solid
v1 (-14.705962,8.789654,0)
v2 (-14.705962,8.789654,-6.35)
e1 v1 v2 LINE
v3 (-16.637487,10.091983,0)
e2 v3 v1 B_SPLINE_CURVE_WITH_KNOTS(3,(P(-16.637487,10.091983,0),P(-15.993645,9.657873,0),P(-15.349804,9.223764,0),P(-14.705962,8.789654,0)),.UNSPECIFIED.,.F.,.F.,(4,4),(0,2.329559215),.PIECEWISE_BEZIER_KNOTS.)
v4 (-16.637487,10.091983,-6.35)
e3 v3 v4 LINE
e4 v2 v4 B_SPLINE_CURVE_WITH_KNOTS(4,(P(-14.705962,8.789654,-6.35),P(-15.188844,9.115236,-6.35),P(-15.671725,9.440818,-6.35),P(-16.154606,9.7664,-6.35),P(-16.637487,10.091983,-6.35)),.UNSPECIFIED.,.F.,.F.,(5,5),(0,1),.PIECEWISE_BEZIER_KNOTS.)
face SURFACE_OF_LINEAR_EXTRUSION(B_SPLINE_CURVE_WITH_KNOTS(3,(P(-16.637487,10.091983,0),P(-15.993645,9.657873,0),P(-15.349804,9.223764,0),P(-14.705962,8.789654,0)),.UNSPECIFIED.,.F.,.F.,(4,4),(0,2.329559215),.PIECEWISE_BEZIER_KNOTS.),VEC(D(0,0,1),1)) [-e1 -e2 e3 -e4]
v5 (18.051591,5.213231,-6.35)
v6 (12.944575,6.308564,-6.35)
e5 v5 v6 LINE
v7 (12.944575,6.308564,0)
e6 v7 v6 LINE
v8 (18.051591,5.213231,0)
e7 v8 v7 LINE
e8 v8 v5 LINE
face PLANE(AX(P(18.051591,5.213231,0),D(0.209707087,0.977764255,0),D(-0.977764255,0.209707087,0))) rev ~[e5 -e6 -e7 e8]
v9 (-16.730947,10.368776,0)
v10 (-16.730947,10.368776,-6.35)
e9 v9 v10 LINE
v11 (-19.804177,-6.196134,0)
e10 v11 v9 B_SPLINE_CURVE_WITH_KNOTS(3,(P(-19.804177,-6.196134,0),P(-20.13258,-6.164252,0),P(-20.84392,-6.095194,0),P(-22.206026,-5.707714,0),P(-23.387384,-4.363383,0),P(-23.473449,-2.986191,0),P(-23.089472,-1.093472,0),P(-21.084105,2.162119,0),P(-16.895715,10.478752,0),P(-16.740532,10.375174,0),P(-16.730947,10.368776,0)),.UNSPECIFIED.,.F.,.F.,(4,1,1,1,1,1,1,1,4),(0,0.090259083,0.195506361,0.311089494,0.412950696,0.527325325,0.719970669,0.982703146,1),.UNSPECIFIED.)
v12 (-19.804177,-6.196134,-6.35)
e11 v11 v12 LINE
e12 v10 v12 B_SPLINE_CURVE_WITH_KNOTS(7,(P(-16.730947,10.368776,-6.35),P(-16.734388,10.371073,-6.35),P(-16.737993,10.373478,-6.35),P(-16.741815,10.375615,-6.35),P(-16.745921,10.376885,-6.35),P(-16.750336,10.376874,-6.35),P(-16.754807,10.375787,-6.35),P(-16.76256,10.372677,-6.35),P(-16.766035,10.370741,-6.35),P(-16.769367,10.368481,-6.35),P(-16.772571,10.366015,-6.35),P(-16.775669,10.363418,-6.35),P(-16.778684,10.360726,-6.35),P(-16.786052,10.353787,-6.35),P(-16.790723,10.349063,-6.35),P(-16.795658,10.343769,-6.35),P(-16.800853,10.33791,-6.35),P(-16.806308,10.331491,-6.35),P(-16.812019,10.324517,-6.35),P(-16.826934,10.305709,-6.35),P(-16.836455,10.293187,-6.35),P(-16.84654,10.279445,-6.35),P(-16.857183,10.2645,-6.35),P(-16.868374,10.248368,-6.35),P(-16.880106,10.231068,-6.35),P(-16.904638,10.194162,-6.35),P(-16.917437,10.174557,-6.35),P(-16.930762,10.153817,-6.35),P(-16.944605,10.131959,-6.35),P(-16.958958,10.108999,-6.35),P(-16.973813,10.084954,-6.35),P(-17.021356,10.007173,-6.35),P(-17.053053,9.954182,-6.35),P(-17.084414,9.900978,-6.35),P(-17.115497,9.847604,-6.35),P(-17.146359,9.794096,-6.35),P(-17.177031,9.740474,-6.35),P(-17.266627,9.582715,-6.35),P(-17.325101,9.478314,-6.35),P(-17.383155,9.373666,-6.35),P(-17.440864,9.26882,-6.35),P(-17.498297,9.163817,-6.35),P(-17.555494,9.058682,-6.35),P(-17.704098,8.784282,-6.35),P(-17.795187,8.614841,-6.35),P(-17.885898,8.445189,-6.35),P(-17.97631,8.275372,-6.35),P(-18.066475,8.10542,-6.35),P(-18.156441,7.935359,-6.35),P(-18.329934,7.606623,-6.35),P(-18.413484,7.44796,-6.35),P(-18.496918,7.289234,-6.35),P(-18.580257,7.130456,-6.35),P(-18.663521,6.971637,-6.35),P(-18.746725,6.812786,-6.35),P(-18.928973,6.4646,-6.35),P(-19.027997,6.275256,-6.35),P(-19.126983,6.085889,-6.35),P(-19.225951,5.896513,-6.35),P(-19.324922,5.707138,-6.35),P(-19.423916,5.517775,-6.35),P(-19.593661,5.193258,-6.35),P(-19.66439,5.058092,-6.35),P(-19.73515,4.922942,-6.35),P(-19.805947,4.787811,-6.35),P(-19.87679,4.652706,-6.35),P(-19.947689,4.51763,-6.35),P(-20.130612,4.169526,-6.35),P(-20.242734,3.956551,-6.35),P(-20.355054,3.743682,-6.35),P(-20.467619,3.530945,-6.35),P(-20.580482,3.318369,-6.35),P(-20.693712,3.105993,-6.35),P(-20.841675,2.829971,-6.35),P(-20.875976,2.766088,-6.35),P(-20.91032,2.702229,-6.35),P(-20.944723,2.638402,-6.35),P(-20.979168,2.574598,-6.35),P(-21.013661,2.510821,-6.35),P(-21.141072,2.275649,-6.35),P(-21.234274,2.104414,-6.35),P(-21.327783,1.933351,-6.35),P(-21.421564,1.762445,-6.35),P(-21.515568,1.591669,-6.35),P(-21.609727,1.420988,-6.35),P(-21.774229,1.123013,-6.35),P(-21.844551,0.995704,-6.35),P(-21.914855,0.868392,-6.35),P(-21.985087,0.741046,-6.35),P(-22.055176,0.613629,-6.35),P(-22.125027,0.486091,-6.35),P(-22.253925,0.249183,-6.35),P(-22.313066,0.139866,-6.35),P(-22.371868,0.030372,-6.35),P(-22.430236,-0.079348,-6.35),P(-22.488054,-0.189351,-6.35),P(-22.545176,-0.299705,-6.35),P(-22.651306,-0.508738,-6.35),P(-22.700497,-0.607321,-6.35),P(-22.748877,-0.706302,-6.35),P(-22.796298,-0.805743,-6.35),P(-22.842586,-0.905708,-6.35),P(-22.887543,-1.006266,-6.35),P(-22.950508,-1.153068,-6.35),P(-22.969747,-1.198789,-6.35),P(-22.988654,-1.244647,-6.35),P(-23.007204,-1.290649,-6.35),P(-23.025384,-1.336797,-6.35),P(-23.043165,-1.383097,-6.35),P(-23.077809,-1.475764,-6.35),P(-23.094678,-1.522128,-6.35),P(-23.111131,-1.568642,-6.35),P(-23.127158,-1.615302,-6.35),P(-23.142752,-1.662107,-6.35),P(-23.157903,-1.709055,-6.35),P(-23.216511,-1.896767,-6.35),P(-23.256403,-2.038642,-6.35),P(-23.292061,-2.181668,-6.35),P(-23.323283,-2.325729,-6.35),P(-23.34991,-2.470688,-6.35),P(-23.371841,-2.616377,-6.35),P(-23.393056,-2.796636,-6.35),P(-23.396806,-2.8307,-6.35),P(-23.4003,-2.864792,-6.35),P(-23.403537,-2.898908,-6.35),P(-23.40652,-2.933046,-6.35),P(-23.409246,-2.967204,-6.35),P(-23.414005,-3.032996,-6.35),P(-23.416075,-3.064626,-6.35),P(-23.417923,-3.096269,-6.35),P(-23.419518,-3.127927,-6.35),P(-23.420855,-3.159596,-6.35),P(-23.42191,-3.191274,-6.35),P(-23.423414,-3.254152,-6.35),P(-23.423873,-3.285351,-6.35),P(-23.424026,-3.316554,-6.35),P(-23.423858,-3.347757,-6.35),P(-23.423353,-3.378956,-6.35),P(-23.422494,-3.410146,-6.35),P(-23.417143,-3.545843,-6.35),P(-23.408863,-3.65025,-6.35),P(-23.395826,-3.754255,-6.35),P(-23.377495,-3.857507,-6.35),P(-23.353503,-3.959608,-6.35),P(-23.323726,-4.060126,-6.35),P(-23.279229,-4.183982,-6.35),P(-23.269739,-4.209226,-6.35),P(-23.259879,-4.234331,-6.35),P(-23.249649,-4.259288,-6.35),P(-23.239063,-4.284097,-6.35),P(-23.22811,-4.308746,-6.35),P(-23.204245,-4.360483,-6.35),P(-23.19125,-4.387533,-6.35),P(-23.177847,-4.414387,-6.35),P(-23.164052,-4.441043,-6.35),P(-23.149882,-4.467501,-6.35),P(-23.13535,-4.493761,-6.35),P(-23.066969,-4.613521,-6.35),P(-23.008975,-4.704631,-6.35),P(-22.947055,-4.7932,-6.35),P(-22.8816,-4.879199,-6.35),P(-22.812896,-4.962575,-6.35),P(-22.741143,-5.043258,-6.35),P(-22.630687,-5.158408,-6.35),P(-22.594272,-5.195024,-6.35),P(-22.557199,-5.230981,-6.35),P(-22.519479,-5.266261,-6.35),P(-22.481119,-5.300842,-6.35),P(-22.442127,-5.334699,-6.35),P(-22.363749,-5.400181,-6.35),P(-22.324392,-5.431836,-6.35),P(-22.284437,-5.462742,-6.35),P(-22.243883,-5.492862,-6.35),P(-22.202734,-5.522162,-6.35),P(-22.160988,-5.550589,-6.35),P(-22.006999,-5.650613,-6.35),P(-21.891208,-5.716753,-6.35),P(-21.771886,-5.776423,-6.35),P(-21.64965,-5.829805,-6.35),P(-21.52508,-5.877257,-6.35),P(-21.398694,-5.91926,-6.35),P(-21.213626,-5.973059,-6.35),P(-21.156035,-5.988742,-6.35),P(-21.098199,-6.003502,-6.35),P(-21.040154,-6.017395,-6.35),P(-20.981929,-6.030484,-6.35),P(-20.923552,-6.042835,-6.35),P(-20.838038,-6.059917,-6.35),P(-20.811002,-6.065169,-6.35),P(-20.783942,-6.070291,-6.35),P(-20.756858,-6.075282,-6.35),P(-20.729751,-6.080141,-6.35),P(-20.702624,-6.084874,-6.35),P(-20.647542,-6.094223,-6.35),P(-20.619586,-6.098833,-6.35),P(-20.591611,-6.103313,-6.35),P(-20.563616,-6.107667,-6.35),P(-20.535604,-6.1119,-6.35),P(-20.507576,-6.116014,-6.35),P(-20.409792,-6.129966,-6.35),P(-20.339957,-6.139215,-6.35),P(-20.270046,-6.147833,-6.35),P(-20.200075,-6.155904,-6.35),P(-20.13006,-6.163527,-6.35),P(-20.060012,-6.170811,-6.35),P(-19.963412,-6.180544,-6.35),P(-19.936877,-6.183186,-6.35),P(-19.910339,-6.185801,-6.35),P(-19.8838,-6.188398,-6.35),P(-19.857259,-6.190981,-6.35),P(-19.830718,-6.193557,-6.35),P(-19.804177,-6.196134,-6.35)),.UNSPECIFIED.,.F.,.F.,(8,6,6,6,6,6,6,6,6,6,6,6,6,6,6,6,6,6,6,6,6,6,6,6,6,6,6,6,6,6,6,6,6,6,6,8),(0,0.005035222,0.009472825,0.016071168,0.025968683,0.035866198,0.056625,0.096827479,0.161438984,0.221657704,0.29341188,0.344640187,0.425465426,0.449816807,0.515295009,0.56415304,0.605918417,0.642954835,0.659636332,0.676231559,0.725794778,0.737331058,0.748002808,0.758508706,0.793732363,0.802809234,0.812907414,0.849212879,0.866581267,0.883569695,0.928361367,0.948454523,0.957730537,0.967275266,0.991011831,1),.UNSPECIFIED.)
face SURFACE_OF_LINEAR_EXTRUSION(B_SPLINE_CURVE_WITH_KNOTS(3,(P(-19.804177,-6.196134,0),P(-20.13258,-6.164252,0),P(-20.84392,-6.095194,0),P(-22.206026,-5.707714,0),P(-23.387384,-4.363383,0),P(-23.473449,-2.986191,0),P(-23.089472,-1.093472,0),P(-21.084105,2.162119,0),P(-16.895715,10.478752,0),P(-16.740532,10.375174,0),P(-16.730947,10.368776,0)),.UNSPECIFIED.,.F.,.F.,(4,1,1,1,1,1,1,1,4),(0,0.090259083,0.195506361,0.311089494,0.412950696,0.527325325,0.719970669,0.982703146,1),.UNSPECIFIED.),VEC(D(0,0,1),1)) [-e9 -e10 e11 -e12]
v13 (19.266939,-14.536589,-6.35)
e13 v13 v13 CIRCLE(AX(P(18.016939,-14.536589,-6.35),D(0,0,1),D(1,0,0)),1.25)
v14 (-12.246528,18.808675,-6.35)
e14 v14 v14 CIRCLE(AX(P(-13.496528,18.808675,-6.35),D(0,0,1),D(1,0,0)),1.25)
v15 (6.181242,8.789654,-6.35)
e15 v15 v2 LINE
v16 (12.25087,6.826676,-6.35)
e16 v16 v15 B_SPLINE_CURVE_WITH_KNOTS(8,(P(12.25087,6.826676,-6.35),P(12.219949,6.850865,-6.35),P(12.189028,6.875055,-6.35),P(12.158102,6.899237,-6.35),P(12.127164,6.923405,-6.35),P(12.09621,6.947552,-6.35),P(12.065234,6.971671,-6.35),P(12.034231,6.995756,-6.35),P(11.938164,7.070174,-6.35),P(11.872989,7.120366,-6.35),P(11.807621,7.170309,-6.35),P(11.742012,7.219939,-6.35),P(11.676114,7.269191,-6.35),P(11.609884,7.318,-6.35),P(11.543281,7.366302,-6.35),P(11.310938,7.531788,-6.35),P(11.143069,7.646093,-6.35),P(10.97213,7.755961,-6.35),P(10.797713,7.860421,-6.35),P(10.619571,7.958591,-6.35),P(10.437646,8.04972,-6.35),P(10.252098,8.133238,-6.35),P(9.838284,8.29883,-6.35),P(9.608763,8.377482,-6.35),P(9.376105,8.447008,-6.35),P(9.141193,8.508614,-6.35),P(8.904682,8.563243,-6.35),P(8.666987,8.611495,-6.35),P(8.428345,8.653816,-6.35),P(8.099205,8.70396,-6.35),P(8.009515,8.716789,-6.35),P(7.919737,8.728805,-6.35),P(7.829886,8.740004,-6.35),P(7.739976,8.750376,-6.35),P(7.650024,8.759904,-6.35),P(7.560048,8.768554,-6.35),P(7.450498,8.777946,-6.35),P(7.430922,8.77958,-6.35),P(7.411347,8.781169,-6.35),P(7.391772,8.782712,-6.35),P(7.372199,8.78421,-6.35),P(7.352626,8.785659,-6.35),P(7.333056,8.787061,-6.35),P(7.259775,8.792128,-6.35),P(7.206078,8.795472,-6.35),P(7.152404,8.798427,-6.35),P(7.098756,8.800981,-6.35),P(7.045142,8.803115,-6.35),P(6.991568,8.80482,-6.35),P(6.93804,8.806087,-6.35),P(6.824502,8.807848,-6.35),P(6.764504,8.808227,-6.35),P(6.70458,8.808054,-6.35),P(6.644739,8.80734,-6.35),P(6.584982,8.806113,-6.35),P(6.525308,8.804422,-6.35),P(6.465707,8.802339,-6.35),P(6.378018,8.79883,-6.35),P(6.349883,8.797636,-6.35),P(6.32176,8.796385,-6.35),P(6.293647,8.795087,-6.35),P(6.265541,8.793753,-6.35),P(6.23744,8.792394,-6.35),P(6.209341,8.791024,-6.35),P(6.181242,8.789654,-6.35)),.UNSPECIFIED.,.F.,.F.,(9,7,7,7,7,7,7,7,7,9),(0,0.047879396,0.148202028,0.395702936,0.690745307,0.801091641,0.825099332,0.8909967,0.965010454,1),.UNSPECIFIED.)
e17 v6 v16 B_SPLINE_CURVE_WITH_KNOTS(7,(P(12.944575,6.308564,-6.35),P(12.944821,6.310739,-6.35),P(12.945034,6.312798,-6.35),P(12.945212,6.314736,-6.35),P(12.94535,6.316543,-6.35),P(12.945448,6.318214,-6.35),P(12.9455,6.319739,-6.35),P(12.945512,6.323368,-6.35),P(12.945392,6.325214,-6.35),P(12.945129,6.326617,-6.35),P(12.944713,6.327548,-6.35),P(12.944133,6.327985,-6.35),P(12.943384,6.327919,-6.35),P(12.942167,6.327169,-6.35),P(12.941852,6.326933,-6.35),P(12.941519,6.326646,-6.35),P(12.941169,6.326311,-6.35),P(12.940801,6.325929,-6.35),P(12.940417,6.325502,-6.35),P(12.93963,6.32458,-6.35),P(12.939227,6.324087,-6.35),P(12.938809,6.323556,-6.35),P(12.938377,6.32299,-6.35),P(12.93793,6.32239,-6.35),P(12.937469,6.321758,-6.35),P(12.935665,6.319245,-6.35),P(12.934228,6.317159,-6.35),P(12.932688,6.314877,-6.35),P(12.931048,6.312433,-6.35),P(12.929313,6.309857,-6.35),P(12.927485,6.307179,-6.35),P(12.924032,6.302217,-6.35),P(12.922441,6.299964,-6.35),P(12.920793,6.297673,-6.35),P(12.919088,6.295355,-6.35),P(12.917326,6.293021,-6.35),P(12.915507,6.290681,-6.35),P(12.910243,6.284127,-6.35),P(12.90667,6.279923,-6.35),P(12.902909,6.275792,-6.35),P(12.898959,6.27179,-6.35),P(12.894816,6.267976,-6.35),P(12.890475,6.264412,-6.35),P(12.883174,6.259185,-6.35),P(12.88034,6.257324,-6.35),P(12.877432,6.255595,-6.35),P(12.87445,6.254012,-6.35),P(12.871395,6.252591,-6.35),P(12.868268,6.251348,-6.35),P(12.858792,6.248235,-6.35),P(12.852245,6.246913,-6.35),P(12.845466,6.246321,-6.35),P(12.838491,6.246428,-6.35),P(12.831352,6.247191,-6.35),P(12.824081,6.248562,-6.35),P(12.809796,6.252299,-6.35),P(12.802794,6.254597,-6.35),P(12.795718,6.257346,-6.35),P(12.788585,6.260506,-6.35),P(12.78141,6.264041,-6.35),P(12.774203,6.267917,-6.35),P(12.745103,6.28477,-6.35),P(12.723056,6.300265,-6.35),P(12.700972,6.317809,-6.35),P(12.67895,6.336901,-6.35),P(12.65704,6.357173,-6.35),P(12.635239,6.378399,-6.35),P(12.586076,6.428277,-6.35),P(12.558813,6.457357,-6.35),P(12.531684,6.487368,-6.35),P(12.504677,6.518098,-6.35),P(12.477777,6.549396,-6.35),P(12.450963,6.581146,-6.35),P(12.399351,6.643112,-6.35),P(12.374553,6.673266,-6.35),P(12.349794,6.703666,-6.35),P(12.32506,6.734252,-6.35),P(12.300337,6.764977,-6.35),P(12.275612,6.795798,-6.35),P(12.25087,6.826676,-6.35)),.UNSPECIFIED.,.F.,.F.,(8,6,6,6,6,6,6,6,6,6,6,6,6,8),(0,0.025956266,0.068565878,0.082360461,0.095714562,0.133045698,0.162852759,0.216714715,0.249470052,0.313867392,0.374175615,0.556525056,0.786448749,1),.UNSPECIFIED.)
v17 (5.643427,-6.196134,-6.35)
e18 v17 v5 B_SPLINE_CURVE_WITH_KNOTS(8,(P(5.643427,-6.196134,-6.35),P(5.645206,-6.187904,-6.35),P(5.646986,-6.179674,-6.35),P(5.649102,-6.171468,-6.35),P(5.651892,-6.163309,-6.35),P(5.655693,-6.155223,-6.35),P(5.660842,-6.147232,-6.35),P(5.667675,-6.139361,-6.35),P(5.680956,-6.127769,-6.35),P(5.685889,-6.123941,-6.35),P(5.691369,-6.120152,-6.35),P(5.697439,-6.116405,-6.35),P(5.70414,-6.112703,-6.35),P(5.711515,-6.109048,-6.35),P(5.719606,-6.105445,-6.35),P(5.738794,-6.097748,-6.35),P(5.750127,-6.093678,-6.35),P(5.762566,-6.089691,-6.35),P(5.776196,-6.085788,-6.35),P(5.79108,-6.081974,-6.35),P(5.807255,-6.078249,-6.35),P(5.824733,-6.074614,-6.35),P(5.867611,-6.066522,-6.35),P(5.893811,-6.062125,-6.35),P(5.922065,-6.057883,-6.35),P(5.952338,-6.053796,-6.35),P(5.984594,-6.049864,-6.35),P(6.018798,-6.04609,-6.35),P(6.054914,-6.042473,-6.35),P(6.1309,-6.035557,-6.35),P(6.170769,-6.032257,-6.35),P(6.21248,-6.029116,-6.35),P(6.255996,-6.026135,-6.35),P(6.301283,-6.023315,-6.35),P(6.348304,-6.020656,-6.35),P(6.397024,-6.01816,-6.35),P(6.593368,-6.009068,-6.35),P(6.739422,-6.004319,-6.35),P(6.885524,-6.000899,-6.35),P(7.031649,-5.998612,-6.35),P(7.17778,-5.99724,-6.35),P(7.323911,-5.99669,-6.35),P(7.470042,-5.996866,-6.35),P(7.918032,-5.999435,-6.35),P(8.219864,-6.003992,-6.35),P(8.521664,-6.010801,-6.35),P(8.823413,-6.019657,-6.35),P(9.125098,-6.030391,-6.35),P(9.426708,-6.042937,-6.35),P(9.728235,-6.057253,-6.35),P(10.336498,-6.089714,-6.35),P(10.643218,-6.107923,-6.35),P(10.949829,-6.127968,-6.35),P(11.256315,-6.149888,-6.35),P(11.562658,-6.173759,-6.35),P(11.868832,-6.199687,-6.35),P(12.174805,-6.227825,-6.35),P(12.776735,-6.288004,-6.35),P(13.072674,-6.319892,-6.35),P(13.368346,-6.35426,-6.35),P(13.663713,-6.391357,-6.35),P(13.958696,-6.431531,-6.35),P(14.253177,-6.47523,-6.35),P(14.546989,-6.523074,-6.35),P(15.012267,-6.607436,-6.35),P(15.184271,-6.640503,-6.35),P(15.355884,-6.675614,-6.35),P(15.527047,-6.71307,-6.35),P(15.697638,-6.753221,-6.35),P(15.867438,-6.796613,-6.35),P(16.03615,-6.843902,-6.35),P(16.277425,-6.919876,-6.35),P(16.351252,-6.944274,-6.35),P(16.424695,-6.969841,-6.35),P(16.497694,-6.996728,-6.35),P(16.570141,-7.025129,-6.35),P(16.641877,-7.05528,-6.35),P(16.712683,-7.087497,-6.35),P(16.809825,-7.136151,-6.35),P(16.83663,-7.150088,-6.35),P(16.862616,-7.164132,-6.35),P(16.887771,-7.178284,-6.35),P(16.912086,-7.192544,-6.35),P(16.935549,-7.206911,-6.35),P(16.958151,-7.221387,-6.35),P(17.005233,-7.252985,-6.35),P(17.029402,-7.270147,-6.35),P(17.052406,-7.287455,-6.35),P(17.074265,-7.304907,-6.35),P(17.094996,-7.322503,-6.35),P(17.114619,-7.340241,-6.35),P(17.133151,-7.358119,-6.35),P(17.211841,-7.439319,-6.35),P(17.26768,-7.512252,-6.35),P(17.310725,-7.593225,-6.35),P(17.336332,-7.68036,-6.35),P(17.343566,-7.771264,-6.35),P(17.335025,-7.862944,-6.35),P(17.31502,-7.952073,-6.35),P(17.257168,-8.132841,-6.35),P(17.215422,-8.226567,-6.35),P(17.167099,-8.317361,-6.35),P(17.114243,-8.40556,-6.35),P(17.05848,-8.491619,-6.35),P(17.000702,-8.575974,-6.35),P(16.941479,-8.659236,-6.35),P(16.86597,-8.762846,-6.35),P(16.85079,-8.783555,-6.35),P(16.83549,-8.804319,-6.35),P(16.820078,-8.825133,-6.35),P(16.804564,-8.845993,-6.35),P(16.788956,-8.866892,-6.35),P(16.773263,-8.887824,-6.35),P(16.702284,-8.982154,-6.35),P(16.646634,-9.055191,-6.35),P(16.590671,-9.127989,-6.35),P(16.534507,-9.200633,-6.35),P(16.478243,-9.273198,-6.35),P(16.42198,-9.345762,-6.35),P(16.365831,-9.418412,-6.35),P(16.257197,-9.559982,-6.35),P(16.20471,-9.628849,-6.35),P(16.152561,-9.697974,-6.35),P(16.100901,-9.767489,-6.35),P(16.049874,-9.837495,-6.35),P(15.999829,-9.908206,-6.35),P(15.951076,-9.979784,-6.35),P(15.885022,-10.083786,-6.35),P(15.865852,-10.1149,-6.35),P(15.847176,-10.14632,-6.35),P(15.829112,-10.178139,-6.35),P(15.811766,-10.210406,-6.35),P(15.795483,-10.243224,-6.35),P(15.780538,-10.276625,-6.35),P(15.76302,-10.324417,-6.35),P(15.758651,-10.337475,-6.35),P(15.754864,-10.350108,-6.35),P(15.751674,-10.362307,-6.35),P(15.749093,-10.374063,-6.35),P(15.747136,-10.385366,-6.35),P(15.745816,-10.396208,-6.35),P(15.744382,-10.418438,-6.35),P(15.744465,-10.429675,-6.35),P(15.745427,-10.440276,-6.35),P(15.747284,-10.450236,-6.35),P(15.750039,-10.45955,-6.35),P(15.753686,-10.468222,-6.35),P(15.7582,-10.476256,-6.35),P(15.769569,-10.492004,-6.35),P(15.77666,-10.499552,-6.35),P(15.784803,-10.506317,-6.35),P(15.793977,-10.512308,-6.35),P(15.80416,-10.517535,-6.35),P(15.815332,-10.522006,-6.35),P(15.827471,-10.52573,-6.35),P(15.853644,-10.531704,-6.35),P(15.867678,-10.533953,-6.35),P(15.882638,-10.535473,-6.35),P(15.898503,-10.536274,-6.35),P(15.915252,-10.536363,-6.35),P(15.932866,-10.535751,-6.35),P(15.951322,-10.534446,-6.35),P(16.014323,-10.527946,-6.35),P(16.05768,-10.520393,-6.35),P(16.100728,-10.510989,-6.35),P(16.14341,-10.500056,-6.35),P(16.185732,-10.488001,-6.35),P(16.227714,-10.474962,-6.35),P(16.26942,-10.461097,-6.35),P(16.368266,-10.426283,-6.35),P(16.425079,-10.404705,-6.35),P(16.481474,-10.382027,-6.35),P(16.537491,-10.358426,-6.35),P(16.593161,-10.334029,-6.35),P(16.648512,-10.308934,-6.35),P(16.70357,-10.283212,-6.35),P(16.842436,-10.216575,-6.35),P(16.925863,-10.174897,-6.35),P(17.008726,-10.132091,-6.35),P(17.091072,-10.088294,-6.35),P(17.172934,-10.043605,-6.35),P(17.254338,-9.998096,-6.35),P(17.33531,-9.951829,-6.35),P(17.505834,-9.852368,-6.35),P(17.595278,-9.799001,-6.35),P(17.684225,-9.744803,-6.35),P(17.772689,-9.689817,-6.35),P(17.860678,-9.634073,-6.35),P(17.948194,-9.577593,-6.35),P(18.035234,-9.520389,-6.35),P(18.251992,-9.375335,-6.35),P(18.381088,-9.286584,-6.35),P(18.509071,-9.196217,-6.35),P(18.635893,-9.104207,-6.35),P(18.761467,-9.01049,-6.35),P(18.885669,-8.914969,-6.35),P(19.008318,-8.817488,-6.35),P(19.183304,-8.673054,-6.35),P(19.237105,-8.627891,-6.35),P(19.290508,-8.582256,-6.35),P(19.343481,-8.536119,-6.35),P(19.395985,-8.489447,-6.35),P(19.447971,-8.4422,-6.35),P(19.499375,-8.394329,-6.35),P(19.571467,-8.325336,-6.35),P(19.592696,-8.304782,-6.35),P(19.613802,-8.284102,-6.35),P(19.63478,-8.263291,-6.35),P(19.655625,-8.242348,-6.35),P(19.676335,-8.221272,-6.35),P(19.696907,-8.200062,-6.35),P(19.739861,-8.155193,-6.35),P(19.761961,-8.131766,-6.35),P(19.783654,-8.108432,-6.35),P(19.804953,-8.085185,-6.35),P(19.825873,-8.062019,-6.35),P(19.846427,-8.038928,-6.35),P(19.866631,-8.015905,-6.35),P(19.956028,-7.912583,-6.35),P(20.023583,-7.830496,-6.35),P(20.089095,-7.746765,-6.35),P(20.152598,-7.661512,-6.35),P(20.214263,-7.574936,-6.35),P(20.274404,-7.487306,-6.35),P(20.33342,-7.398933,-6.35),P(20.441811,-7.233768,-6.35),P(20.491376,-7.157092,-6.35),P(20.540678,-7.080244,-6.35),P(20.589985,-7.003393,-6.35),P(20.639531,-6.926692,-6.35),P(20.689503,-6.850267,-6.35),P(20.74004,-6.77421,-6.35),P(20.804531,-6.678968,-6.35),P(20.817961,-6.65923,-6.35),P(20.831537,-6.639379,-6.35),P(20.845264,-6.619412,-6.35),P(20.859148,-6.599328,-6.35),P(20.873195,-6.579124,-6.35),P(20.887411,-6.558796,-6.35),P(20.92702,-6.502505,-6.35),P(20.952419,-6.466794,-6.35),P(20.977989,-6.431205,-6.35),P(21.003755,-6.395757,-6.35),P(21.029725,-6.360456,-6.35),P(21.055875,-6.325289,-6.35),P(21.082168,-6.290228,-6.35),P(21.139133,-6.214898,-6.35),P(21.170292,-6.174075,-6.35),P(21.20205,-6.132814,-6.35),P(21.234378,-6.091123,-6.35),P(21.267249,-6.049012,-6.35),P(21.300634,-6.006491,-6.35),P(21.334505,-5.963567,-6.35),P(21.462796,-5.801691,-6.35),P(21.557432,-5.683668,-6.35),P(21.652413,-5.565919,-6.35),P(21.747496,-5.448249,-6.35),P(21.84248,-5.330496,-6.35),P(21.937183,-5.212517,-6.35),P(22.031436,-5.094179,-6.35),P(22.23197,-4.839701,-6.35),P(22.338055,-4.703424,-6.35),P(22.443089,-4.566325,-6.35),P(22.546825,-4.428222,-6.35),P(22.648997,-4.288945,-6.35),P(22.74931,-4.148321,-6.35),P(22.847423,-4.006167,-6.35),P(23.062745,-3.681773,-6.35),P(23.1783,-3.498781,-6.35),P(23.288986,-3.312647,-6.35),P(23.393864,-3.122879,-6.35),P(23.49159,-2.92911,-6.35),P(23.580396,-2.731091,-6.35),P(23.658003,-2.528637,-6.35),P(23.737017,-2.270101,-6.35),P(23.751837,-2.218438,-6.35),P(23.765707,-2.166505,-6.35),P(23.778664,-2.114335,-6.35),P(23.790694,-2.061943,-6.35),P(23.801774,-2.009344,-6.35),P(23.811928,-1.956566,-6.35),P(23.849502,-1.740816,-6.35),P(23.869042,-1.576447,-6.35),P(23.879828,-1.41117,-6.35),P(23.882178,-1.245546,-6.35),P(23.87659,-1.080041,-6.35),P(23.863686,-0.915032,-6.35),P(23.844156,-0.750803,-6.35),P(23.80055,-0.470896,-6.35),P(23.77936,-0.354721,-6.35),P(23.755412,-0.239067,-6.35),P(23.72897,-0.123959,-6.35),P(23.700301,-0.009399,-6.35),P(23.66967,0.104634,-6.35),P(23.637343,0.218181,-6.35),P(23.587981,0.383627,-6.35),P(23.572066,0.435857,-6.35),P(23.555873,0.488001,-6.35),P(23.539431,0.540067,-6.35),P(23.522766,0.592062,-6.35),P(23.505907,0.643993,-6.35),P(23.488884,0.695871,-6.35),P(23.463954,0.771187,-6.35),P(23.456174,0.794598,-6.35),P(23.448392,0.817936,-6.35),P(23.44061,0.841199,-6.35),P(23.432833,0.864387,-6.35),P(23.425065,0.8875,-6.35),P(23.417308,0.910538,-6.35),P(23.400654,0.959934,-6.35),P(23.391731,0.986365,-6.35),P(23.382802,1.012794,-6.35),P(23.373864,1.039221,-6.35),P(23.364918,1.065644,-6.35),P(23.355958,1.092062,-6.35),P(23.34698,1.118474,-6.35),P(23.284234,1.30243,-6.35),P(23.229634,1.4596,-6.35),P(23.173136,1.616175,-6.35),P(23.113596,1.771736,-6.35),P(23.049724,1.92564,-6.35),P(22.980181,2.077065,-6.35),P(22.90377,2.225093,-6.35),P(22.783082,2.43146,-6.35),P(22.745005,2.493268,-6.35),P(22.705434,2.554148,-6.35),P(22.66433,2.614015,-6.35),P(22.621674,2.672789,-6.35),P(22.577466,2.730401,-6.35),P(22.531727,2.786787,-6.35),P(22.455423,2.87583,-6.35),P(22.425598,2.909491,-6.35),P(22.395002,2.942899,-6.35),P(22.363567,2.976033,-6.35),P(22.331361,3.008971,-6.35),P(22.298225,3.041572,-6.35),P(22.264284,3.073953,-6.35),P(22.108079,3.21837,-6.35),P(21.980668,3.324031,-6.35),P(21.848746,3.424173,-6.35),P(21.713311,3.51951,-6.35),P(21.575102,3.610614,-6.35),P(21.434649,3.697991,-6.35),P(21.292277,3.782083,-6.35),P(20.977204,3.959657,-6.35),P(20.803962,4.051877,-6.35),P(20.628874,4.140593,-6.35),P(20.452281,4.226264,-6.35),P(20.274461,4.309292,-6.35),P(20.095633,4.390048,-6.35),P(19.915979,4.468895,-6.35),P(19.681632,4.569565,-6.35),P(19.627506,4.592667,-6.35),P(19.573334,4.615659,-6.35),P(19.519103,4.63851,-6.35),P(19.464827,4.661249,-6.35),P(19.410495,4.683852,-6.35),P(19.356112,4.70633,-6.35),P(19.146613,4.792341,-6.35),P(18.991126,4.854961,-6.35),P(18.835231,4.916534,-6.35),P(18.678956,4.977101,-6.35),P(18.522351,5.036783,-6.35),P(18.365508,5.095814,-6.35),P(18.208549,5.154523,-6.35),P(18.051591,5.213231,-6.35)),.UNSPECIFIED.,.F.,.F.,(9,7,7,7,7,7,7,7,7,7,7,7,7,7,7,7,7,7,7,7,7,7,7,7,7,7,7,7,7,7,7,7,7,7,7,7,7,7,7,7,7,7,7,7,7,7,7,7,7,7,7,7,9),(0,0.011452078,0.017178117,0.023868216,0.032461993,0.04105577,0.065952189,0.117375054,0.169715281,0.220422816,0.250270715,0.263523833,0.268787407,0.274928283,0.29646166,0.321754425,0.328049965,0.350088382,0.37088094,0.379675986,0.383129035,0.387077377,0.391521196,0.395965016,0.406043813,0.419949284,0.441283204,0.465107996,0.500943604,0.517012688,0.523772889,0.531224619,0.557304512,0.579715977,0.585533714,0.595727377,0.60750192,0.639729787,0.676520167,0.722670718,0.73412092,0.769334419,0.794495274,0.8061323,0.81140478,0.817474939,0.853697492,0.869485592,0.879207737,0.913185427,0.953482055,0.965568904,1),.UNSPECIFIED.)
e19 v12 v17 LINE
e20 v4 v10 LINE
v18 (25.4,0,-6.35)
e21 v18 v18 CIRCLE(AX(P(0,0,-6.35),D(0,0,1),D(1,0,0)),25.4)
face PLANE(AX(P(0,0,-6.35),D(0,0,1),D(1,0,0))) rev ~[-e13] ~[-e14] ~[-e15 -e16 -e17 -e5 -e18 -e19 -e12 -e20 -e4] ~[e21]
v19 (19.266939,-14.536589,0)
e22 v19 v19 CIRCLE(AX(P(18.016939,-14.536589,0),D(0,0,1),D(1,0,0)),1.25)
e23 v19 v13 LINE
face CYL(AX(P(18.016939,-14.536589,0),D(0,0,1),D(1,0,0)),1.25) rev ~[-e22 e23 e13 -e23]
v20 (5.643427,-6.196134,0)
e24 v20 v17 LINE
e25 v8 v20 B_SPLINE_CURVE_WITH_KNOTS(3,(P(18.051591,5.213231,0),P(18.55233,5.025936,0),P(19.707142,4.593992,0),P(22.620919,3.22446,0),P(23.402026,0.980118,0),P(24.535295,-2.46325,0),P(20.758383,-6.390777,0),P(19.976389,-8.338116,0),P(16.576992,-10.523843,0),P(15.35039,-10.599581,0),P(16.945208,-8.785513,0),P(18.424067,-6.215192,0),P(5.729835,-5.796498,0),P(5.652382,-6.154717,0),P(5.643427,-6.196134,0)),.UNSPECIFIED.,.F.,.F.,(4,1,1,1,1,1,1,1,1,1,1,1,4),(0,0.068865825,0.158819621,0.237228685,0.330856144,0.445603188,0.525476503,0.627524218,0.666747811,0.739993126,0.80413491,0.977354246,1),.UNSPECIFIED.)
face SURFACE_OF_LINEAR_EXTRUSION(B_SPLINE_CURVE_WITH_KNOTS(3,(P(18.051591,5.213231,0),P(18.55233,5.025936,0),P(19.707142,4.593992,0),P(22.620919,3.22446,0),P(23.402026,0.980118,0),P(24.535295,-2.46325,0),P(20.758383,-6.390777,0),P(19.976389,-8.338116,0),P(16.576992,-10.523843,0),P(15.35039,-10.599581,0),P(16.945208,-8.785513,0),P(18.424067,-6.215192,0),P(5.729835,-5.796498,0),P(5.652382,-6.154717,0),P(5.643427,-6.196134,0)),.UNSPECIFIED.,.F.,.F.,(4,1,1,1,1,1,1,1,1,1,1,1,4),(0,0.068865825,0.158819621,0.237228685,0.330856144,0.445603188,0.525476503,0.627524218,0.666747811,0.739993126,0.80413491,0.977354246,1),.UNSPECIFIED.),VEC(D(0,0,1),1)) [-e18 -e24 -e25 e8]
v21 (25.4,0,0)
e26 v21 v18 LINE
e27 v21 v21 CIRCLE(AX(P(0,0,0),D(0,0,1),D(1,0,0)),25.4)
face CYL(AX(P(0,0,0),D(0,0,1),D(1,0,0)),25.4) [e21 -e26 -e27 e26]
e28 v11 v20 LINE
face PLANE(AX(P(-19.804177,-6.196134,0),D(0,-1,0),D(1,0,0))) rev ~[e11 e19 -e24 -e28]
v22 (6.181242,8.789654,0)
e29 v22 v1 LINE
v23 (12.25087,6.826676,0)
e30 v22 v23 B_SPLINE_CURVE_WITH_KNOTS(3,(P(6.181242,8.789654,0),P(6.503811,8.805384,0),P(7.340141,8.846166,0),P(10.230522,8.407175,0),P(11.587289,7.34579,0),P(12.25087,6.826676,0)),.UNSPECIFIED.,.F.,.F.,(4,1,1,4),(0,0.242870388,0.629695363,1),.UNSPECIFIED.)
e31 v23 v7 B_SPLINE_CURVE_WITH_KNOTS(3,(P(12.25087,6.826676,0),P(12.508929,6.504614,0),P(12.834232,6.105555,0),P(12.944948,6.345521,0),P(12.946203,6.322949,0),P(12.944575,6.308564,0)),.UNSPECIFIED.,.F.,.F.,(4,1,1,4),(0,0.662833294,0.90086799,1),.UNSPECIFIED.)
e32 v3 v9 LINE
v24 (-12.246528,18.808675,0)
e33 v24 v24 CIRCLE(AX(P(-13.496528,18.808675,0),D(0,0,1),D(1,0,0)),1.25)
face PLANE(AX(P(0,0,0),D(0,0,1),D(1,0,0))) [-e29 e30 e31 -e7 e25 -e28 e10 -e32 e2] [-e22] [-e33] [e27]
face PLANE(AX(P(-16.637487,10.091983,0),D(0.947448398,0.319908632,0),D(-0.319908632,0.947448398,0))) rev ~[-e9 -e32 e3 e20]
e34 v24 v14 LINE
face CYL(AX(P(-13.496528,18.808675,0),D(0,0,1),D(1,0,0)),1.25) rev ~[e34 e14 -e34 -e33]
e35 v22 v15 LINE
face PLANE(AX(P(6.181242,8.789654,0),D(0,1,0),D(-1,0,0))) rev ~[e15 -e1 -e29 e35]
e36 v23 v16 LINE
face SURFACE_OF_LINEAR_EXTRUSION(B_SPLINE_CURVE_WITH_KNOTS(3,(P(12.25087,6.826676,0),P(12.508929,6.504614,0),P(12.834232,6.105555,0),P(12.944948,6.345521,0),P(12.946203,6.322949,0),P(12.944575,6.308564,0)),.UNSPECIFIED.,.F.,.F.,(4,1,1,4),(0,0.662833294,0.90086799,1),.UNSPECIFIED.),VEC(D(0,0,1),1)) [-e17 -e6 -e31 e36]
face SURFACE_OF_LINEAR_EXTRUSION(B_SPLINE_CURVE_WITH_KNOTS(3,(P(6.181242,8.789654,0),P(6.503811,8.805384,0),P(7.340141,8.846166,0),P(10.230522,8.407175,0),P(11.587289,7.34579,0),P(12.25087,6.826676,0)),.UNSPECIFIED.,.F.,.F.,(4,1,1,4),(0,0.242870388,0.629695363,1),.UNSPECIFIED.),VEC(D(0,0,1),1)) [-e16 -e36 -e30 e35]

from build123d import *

# Parameters (mm, degrees)
F0_R     = 25.4
F0_R_2   = 1.25
F1_DEPTH = 6.35
F3_DEPTH = 6.351


with BuildPart() as f1:
    # F0 (on Top) → F1 (new body)
    with BuildSketch(Plane.XY):
        Circle(F0_R)
        with Locations((18.0169386982, -14.5365890065)):
            Circle(F0_R_2, mode=Mode.SUBTRACT)
        with Locations((-13.4965276548, 18.8086746281)):
            Circle(F0_R_2, mode=Mode.SUBTRACT)
    extrude(amount=-F1_DEPTH)

    # F2 (on face) → F3 (cut, through all)
    with BuildSketch(Plane.XY):
        with BuildLine():
            Line((6.1812424558, 8.7896540147), (-14.7059624651, 8.7896540147))
            add(Edge.make_bspline(
                [(-16.6374868247, 10.0919826146), (-15.9936453715, 9.6578730813), (-15.3498039183, 9.223763548), (-14.7059624651, 8.7896540147)],
                knots=[0, 0, 0, 0, 2.3295592145, 2.3295592145, 2.3295592145, 2.3295592145], degree=3))
            Line((-16.6374868247, 10.0919826146), (-16.7309469077, 10.3687760394))
            add(Edge.make_bspline(
                [(-19.8041772935, -6.1961339597), (-20.1325802623, -6.1642520599), (-20.8439199653, -6.0951940328), (-22.2060264689, -5.7077138997), (-23.3873844132, -4.3633834265), (-23.4734491112, -2.9861908334), (-23.0894719517, -1.0934715623), (-21.0841047959, 2.1621189486), (-16.8957151633, 10.4787515192), (-16.7405322476, 10.3751738273), (-16.7309469077, 10.3687760394)],
                knots=[0, 0, 0, 0, 0.0902590831, 0.195506361, 0.3110894937, 0.4129506957, 0.5273253248, 0.719970669, 0.9827031455, 1, 1, 1, 1], degree=3))
            Line((-19.8041772935, -6.1961339597), (5.643426953, -6.1961339597))
            add(Edge.make_bspline(
                [(18.0515912828, 5.2132311467), (18.5523297491, 5.0259357259), (19.7071419396, 4.593991608), (22.620919031, 3.2244596284), (23.4020260815, 0.9801179013), (24.5352945478, -2.4632496908), (20.7583828659, -6.3907769126), (19.9763890338, -8.3381164243), (16.5769919415, -10.5238429936), (15.3503897821, -10.5995808618), (16.9452075718, -8.7855133258), (18.4240671275, -6.2151918375), (5.7298346304, -5.7964980262), (5.6523819639, -6.1547169899), (5.643426953, -6.1961339597)],
                knots=[0, 0, 0, 0, 0.0688658245, 0.1588196213, 0.2372286853, 0.330856144, 0.4456031883, 0.5254765033, 0.6275242182, 0.6667478114, 0.739993126, 0.8041349103, 0.9773542461, 1, 1, 1, 1], degree=3))
            Line((18.0515912828, 5.2132311467), (12.9445752773, 6.3085641435))
            add(Edge.make_bspline(
                [(12.2508700472, 6.826676261), (12.508929228, 6.5046142565), (12.8342318849, 6.1055549293), (12.9449479201, 6.3455212784), (12.9462026288, 6.3229491884), (12.9445752773, 6.3085641435)],
                knots=[0, 0, 0, 0, 0.6628332943, 0.9008679905, 1, 1, 1, 1], degree=3))
            add(Edge.make_bspline(
                [(6.1812424558, 8.7896540147), (6.5038107636, 8.8053836126), (7.340140665, 8.8461660845), (10.2305223514, 8.4071754808), (11.5872888932, 7.3457896284), (12.2508700472, 6.826676261)],
                knots=[0, 0, 0, 0, 0.2428703881, 0.6296953631, 1, 1, 1, 1], degree=3))
        make_face()
    extrude(amount=-F3_DEPTH, mode=Mode.SUBTRACT)


solid = f1.part
